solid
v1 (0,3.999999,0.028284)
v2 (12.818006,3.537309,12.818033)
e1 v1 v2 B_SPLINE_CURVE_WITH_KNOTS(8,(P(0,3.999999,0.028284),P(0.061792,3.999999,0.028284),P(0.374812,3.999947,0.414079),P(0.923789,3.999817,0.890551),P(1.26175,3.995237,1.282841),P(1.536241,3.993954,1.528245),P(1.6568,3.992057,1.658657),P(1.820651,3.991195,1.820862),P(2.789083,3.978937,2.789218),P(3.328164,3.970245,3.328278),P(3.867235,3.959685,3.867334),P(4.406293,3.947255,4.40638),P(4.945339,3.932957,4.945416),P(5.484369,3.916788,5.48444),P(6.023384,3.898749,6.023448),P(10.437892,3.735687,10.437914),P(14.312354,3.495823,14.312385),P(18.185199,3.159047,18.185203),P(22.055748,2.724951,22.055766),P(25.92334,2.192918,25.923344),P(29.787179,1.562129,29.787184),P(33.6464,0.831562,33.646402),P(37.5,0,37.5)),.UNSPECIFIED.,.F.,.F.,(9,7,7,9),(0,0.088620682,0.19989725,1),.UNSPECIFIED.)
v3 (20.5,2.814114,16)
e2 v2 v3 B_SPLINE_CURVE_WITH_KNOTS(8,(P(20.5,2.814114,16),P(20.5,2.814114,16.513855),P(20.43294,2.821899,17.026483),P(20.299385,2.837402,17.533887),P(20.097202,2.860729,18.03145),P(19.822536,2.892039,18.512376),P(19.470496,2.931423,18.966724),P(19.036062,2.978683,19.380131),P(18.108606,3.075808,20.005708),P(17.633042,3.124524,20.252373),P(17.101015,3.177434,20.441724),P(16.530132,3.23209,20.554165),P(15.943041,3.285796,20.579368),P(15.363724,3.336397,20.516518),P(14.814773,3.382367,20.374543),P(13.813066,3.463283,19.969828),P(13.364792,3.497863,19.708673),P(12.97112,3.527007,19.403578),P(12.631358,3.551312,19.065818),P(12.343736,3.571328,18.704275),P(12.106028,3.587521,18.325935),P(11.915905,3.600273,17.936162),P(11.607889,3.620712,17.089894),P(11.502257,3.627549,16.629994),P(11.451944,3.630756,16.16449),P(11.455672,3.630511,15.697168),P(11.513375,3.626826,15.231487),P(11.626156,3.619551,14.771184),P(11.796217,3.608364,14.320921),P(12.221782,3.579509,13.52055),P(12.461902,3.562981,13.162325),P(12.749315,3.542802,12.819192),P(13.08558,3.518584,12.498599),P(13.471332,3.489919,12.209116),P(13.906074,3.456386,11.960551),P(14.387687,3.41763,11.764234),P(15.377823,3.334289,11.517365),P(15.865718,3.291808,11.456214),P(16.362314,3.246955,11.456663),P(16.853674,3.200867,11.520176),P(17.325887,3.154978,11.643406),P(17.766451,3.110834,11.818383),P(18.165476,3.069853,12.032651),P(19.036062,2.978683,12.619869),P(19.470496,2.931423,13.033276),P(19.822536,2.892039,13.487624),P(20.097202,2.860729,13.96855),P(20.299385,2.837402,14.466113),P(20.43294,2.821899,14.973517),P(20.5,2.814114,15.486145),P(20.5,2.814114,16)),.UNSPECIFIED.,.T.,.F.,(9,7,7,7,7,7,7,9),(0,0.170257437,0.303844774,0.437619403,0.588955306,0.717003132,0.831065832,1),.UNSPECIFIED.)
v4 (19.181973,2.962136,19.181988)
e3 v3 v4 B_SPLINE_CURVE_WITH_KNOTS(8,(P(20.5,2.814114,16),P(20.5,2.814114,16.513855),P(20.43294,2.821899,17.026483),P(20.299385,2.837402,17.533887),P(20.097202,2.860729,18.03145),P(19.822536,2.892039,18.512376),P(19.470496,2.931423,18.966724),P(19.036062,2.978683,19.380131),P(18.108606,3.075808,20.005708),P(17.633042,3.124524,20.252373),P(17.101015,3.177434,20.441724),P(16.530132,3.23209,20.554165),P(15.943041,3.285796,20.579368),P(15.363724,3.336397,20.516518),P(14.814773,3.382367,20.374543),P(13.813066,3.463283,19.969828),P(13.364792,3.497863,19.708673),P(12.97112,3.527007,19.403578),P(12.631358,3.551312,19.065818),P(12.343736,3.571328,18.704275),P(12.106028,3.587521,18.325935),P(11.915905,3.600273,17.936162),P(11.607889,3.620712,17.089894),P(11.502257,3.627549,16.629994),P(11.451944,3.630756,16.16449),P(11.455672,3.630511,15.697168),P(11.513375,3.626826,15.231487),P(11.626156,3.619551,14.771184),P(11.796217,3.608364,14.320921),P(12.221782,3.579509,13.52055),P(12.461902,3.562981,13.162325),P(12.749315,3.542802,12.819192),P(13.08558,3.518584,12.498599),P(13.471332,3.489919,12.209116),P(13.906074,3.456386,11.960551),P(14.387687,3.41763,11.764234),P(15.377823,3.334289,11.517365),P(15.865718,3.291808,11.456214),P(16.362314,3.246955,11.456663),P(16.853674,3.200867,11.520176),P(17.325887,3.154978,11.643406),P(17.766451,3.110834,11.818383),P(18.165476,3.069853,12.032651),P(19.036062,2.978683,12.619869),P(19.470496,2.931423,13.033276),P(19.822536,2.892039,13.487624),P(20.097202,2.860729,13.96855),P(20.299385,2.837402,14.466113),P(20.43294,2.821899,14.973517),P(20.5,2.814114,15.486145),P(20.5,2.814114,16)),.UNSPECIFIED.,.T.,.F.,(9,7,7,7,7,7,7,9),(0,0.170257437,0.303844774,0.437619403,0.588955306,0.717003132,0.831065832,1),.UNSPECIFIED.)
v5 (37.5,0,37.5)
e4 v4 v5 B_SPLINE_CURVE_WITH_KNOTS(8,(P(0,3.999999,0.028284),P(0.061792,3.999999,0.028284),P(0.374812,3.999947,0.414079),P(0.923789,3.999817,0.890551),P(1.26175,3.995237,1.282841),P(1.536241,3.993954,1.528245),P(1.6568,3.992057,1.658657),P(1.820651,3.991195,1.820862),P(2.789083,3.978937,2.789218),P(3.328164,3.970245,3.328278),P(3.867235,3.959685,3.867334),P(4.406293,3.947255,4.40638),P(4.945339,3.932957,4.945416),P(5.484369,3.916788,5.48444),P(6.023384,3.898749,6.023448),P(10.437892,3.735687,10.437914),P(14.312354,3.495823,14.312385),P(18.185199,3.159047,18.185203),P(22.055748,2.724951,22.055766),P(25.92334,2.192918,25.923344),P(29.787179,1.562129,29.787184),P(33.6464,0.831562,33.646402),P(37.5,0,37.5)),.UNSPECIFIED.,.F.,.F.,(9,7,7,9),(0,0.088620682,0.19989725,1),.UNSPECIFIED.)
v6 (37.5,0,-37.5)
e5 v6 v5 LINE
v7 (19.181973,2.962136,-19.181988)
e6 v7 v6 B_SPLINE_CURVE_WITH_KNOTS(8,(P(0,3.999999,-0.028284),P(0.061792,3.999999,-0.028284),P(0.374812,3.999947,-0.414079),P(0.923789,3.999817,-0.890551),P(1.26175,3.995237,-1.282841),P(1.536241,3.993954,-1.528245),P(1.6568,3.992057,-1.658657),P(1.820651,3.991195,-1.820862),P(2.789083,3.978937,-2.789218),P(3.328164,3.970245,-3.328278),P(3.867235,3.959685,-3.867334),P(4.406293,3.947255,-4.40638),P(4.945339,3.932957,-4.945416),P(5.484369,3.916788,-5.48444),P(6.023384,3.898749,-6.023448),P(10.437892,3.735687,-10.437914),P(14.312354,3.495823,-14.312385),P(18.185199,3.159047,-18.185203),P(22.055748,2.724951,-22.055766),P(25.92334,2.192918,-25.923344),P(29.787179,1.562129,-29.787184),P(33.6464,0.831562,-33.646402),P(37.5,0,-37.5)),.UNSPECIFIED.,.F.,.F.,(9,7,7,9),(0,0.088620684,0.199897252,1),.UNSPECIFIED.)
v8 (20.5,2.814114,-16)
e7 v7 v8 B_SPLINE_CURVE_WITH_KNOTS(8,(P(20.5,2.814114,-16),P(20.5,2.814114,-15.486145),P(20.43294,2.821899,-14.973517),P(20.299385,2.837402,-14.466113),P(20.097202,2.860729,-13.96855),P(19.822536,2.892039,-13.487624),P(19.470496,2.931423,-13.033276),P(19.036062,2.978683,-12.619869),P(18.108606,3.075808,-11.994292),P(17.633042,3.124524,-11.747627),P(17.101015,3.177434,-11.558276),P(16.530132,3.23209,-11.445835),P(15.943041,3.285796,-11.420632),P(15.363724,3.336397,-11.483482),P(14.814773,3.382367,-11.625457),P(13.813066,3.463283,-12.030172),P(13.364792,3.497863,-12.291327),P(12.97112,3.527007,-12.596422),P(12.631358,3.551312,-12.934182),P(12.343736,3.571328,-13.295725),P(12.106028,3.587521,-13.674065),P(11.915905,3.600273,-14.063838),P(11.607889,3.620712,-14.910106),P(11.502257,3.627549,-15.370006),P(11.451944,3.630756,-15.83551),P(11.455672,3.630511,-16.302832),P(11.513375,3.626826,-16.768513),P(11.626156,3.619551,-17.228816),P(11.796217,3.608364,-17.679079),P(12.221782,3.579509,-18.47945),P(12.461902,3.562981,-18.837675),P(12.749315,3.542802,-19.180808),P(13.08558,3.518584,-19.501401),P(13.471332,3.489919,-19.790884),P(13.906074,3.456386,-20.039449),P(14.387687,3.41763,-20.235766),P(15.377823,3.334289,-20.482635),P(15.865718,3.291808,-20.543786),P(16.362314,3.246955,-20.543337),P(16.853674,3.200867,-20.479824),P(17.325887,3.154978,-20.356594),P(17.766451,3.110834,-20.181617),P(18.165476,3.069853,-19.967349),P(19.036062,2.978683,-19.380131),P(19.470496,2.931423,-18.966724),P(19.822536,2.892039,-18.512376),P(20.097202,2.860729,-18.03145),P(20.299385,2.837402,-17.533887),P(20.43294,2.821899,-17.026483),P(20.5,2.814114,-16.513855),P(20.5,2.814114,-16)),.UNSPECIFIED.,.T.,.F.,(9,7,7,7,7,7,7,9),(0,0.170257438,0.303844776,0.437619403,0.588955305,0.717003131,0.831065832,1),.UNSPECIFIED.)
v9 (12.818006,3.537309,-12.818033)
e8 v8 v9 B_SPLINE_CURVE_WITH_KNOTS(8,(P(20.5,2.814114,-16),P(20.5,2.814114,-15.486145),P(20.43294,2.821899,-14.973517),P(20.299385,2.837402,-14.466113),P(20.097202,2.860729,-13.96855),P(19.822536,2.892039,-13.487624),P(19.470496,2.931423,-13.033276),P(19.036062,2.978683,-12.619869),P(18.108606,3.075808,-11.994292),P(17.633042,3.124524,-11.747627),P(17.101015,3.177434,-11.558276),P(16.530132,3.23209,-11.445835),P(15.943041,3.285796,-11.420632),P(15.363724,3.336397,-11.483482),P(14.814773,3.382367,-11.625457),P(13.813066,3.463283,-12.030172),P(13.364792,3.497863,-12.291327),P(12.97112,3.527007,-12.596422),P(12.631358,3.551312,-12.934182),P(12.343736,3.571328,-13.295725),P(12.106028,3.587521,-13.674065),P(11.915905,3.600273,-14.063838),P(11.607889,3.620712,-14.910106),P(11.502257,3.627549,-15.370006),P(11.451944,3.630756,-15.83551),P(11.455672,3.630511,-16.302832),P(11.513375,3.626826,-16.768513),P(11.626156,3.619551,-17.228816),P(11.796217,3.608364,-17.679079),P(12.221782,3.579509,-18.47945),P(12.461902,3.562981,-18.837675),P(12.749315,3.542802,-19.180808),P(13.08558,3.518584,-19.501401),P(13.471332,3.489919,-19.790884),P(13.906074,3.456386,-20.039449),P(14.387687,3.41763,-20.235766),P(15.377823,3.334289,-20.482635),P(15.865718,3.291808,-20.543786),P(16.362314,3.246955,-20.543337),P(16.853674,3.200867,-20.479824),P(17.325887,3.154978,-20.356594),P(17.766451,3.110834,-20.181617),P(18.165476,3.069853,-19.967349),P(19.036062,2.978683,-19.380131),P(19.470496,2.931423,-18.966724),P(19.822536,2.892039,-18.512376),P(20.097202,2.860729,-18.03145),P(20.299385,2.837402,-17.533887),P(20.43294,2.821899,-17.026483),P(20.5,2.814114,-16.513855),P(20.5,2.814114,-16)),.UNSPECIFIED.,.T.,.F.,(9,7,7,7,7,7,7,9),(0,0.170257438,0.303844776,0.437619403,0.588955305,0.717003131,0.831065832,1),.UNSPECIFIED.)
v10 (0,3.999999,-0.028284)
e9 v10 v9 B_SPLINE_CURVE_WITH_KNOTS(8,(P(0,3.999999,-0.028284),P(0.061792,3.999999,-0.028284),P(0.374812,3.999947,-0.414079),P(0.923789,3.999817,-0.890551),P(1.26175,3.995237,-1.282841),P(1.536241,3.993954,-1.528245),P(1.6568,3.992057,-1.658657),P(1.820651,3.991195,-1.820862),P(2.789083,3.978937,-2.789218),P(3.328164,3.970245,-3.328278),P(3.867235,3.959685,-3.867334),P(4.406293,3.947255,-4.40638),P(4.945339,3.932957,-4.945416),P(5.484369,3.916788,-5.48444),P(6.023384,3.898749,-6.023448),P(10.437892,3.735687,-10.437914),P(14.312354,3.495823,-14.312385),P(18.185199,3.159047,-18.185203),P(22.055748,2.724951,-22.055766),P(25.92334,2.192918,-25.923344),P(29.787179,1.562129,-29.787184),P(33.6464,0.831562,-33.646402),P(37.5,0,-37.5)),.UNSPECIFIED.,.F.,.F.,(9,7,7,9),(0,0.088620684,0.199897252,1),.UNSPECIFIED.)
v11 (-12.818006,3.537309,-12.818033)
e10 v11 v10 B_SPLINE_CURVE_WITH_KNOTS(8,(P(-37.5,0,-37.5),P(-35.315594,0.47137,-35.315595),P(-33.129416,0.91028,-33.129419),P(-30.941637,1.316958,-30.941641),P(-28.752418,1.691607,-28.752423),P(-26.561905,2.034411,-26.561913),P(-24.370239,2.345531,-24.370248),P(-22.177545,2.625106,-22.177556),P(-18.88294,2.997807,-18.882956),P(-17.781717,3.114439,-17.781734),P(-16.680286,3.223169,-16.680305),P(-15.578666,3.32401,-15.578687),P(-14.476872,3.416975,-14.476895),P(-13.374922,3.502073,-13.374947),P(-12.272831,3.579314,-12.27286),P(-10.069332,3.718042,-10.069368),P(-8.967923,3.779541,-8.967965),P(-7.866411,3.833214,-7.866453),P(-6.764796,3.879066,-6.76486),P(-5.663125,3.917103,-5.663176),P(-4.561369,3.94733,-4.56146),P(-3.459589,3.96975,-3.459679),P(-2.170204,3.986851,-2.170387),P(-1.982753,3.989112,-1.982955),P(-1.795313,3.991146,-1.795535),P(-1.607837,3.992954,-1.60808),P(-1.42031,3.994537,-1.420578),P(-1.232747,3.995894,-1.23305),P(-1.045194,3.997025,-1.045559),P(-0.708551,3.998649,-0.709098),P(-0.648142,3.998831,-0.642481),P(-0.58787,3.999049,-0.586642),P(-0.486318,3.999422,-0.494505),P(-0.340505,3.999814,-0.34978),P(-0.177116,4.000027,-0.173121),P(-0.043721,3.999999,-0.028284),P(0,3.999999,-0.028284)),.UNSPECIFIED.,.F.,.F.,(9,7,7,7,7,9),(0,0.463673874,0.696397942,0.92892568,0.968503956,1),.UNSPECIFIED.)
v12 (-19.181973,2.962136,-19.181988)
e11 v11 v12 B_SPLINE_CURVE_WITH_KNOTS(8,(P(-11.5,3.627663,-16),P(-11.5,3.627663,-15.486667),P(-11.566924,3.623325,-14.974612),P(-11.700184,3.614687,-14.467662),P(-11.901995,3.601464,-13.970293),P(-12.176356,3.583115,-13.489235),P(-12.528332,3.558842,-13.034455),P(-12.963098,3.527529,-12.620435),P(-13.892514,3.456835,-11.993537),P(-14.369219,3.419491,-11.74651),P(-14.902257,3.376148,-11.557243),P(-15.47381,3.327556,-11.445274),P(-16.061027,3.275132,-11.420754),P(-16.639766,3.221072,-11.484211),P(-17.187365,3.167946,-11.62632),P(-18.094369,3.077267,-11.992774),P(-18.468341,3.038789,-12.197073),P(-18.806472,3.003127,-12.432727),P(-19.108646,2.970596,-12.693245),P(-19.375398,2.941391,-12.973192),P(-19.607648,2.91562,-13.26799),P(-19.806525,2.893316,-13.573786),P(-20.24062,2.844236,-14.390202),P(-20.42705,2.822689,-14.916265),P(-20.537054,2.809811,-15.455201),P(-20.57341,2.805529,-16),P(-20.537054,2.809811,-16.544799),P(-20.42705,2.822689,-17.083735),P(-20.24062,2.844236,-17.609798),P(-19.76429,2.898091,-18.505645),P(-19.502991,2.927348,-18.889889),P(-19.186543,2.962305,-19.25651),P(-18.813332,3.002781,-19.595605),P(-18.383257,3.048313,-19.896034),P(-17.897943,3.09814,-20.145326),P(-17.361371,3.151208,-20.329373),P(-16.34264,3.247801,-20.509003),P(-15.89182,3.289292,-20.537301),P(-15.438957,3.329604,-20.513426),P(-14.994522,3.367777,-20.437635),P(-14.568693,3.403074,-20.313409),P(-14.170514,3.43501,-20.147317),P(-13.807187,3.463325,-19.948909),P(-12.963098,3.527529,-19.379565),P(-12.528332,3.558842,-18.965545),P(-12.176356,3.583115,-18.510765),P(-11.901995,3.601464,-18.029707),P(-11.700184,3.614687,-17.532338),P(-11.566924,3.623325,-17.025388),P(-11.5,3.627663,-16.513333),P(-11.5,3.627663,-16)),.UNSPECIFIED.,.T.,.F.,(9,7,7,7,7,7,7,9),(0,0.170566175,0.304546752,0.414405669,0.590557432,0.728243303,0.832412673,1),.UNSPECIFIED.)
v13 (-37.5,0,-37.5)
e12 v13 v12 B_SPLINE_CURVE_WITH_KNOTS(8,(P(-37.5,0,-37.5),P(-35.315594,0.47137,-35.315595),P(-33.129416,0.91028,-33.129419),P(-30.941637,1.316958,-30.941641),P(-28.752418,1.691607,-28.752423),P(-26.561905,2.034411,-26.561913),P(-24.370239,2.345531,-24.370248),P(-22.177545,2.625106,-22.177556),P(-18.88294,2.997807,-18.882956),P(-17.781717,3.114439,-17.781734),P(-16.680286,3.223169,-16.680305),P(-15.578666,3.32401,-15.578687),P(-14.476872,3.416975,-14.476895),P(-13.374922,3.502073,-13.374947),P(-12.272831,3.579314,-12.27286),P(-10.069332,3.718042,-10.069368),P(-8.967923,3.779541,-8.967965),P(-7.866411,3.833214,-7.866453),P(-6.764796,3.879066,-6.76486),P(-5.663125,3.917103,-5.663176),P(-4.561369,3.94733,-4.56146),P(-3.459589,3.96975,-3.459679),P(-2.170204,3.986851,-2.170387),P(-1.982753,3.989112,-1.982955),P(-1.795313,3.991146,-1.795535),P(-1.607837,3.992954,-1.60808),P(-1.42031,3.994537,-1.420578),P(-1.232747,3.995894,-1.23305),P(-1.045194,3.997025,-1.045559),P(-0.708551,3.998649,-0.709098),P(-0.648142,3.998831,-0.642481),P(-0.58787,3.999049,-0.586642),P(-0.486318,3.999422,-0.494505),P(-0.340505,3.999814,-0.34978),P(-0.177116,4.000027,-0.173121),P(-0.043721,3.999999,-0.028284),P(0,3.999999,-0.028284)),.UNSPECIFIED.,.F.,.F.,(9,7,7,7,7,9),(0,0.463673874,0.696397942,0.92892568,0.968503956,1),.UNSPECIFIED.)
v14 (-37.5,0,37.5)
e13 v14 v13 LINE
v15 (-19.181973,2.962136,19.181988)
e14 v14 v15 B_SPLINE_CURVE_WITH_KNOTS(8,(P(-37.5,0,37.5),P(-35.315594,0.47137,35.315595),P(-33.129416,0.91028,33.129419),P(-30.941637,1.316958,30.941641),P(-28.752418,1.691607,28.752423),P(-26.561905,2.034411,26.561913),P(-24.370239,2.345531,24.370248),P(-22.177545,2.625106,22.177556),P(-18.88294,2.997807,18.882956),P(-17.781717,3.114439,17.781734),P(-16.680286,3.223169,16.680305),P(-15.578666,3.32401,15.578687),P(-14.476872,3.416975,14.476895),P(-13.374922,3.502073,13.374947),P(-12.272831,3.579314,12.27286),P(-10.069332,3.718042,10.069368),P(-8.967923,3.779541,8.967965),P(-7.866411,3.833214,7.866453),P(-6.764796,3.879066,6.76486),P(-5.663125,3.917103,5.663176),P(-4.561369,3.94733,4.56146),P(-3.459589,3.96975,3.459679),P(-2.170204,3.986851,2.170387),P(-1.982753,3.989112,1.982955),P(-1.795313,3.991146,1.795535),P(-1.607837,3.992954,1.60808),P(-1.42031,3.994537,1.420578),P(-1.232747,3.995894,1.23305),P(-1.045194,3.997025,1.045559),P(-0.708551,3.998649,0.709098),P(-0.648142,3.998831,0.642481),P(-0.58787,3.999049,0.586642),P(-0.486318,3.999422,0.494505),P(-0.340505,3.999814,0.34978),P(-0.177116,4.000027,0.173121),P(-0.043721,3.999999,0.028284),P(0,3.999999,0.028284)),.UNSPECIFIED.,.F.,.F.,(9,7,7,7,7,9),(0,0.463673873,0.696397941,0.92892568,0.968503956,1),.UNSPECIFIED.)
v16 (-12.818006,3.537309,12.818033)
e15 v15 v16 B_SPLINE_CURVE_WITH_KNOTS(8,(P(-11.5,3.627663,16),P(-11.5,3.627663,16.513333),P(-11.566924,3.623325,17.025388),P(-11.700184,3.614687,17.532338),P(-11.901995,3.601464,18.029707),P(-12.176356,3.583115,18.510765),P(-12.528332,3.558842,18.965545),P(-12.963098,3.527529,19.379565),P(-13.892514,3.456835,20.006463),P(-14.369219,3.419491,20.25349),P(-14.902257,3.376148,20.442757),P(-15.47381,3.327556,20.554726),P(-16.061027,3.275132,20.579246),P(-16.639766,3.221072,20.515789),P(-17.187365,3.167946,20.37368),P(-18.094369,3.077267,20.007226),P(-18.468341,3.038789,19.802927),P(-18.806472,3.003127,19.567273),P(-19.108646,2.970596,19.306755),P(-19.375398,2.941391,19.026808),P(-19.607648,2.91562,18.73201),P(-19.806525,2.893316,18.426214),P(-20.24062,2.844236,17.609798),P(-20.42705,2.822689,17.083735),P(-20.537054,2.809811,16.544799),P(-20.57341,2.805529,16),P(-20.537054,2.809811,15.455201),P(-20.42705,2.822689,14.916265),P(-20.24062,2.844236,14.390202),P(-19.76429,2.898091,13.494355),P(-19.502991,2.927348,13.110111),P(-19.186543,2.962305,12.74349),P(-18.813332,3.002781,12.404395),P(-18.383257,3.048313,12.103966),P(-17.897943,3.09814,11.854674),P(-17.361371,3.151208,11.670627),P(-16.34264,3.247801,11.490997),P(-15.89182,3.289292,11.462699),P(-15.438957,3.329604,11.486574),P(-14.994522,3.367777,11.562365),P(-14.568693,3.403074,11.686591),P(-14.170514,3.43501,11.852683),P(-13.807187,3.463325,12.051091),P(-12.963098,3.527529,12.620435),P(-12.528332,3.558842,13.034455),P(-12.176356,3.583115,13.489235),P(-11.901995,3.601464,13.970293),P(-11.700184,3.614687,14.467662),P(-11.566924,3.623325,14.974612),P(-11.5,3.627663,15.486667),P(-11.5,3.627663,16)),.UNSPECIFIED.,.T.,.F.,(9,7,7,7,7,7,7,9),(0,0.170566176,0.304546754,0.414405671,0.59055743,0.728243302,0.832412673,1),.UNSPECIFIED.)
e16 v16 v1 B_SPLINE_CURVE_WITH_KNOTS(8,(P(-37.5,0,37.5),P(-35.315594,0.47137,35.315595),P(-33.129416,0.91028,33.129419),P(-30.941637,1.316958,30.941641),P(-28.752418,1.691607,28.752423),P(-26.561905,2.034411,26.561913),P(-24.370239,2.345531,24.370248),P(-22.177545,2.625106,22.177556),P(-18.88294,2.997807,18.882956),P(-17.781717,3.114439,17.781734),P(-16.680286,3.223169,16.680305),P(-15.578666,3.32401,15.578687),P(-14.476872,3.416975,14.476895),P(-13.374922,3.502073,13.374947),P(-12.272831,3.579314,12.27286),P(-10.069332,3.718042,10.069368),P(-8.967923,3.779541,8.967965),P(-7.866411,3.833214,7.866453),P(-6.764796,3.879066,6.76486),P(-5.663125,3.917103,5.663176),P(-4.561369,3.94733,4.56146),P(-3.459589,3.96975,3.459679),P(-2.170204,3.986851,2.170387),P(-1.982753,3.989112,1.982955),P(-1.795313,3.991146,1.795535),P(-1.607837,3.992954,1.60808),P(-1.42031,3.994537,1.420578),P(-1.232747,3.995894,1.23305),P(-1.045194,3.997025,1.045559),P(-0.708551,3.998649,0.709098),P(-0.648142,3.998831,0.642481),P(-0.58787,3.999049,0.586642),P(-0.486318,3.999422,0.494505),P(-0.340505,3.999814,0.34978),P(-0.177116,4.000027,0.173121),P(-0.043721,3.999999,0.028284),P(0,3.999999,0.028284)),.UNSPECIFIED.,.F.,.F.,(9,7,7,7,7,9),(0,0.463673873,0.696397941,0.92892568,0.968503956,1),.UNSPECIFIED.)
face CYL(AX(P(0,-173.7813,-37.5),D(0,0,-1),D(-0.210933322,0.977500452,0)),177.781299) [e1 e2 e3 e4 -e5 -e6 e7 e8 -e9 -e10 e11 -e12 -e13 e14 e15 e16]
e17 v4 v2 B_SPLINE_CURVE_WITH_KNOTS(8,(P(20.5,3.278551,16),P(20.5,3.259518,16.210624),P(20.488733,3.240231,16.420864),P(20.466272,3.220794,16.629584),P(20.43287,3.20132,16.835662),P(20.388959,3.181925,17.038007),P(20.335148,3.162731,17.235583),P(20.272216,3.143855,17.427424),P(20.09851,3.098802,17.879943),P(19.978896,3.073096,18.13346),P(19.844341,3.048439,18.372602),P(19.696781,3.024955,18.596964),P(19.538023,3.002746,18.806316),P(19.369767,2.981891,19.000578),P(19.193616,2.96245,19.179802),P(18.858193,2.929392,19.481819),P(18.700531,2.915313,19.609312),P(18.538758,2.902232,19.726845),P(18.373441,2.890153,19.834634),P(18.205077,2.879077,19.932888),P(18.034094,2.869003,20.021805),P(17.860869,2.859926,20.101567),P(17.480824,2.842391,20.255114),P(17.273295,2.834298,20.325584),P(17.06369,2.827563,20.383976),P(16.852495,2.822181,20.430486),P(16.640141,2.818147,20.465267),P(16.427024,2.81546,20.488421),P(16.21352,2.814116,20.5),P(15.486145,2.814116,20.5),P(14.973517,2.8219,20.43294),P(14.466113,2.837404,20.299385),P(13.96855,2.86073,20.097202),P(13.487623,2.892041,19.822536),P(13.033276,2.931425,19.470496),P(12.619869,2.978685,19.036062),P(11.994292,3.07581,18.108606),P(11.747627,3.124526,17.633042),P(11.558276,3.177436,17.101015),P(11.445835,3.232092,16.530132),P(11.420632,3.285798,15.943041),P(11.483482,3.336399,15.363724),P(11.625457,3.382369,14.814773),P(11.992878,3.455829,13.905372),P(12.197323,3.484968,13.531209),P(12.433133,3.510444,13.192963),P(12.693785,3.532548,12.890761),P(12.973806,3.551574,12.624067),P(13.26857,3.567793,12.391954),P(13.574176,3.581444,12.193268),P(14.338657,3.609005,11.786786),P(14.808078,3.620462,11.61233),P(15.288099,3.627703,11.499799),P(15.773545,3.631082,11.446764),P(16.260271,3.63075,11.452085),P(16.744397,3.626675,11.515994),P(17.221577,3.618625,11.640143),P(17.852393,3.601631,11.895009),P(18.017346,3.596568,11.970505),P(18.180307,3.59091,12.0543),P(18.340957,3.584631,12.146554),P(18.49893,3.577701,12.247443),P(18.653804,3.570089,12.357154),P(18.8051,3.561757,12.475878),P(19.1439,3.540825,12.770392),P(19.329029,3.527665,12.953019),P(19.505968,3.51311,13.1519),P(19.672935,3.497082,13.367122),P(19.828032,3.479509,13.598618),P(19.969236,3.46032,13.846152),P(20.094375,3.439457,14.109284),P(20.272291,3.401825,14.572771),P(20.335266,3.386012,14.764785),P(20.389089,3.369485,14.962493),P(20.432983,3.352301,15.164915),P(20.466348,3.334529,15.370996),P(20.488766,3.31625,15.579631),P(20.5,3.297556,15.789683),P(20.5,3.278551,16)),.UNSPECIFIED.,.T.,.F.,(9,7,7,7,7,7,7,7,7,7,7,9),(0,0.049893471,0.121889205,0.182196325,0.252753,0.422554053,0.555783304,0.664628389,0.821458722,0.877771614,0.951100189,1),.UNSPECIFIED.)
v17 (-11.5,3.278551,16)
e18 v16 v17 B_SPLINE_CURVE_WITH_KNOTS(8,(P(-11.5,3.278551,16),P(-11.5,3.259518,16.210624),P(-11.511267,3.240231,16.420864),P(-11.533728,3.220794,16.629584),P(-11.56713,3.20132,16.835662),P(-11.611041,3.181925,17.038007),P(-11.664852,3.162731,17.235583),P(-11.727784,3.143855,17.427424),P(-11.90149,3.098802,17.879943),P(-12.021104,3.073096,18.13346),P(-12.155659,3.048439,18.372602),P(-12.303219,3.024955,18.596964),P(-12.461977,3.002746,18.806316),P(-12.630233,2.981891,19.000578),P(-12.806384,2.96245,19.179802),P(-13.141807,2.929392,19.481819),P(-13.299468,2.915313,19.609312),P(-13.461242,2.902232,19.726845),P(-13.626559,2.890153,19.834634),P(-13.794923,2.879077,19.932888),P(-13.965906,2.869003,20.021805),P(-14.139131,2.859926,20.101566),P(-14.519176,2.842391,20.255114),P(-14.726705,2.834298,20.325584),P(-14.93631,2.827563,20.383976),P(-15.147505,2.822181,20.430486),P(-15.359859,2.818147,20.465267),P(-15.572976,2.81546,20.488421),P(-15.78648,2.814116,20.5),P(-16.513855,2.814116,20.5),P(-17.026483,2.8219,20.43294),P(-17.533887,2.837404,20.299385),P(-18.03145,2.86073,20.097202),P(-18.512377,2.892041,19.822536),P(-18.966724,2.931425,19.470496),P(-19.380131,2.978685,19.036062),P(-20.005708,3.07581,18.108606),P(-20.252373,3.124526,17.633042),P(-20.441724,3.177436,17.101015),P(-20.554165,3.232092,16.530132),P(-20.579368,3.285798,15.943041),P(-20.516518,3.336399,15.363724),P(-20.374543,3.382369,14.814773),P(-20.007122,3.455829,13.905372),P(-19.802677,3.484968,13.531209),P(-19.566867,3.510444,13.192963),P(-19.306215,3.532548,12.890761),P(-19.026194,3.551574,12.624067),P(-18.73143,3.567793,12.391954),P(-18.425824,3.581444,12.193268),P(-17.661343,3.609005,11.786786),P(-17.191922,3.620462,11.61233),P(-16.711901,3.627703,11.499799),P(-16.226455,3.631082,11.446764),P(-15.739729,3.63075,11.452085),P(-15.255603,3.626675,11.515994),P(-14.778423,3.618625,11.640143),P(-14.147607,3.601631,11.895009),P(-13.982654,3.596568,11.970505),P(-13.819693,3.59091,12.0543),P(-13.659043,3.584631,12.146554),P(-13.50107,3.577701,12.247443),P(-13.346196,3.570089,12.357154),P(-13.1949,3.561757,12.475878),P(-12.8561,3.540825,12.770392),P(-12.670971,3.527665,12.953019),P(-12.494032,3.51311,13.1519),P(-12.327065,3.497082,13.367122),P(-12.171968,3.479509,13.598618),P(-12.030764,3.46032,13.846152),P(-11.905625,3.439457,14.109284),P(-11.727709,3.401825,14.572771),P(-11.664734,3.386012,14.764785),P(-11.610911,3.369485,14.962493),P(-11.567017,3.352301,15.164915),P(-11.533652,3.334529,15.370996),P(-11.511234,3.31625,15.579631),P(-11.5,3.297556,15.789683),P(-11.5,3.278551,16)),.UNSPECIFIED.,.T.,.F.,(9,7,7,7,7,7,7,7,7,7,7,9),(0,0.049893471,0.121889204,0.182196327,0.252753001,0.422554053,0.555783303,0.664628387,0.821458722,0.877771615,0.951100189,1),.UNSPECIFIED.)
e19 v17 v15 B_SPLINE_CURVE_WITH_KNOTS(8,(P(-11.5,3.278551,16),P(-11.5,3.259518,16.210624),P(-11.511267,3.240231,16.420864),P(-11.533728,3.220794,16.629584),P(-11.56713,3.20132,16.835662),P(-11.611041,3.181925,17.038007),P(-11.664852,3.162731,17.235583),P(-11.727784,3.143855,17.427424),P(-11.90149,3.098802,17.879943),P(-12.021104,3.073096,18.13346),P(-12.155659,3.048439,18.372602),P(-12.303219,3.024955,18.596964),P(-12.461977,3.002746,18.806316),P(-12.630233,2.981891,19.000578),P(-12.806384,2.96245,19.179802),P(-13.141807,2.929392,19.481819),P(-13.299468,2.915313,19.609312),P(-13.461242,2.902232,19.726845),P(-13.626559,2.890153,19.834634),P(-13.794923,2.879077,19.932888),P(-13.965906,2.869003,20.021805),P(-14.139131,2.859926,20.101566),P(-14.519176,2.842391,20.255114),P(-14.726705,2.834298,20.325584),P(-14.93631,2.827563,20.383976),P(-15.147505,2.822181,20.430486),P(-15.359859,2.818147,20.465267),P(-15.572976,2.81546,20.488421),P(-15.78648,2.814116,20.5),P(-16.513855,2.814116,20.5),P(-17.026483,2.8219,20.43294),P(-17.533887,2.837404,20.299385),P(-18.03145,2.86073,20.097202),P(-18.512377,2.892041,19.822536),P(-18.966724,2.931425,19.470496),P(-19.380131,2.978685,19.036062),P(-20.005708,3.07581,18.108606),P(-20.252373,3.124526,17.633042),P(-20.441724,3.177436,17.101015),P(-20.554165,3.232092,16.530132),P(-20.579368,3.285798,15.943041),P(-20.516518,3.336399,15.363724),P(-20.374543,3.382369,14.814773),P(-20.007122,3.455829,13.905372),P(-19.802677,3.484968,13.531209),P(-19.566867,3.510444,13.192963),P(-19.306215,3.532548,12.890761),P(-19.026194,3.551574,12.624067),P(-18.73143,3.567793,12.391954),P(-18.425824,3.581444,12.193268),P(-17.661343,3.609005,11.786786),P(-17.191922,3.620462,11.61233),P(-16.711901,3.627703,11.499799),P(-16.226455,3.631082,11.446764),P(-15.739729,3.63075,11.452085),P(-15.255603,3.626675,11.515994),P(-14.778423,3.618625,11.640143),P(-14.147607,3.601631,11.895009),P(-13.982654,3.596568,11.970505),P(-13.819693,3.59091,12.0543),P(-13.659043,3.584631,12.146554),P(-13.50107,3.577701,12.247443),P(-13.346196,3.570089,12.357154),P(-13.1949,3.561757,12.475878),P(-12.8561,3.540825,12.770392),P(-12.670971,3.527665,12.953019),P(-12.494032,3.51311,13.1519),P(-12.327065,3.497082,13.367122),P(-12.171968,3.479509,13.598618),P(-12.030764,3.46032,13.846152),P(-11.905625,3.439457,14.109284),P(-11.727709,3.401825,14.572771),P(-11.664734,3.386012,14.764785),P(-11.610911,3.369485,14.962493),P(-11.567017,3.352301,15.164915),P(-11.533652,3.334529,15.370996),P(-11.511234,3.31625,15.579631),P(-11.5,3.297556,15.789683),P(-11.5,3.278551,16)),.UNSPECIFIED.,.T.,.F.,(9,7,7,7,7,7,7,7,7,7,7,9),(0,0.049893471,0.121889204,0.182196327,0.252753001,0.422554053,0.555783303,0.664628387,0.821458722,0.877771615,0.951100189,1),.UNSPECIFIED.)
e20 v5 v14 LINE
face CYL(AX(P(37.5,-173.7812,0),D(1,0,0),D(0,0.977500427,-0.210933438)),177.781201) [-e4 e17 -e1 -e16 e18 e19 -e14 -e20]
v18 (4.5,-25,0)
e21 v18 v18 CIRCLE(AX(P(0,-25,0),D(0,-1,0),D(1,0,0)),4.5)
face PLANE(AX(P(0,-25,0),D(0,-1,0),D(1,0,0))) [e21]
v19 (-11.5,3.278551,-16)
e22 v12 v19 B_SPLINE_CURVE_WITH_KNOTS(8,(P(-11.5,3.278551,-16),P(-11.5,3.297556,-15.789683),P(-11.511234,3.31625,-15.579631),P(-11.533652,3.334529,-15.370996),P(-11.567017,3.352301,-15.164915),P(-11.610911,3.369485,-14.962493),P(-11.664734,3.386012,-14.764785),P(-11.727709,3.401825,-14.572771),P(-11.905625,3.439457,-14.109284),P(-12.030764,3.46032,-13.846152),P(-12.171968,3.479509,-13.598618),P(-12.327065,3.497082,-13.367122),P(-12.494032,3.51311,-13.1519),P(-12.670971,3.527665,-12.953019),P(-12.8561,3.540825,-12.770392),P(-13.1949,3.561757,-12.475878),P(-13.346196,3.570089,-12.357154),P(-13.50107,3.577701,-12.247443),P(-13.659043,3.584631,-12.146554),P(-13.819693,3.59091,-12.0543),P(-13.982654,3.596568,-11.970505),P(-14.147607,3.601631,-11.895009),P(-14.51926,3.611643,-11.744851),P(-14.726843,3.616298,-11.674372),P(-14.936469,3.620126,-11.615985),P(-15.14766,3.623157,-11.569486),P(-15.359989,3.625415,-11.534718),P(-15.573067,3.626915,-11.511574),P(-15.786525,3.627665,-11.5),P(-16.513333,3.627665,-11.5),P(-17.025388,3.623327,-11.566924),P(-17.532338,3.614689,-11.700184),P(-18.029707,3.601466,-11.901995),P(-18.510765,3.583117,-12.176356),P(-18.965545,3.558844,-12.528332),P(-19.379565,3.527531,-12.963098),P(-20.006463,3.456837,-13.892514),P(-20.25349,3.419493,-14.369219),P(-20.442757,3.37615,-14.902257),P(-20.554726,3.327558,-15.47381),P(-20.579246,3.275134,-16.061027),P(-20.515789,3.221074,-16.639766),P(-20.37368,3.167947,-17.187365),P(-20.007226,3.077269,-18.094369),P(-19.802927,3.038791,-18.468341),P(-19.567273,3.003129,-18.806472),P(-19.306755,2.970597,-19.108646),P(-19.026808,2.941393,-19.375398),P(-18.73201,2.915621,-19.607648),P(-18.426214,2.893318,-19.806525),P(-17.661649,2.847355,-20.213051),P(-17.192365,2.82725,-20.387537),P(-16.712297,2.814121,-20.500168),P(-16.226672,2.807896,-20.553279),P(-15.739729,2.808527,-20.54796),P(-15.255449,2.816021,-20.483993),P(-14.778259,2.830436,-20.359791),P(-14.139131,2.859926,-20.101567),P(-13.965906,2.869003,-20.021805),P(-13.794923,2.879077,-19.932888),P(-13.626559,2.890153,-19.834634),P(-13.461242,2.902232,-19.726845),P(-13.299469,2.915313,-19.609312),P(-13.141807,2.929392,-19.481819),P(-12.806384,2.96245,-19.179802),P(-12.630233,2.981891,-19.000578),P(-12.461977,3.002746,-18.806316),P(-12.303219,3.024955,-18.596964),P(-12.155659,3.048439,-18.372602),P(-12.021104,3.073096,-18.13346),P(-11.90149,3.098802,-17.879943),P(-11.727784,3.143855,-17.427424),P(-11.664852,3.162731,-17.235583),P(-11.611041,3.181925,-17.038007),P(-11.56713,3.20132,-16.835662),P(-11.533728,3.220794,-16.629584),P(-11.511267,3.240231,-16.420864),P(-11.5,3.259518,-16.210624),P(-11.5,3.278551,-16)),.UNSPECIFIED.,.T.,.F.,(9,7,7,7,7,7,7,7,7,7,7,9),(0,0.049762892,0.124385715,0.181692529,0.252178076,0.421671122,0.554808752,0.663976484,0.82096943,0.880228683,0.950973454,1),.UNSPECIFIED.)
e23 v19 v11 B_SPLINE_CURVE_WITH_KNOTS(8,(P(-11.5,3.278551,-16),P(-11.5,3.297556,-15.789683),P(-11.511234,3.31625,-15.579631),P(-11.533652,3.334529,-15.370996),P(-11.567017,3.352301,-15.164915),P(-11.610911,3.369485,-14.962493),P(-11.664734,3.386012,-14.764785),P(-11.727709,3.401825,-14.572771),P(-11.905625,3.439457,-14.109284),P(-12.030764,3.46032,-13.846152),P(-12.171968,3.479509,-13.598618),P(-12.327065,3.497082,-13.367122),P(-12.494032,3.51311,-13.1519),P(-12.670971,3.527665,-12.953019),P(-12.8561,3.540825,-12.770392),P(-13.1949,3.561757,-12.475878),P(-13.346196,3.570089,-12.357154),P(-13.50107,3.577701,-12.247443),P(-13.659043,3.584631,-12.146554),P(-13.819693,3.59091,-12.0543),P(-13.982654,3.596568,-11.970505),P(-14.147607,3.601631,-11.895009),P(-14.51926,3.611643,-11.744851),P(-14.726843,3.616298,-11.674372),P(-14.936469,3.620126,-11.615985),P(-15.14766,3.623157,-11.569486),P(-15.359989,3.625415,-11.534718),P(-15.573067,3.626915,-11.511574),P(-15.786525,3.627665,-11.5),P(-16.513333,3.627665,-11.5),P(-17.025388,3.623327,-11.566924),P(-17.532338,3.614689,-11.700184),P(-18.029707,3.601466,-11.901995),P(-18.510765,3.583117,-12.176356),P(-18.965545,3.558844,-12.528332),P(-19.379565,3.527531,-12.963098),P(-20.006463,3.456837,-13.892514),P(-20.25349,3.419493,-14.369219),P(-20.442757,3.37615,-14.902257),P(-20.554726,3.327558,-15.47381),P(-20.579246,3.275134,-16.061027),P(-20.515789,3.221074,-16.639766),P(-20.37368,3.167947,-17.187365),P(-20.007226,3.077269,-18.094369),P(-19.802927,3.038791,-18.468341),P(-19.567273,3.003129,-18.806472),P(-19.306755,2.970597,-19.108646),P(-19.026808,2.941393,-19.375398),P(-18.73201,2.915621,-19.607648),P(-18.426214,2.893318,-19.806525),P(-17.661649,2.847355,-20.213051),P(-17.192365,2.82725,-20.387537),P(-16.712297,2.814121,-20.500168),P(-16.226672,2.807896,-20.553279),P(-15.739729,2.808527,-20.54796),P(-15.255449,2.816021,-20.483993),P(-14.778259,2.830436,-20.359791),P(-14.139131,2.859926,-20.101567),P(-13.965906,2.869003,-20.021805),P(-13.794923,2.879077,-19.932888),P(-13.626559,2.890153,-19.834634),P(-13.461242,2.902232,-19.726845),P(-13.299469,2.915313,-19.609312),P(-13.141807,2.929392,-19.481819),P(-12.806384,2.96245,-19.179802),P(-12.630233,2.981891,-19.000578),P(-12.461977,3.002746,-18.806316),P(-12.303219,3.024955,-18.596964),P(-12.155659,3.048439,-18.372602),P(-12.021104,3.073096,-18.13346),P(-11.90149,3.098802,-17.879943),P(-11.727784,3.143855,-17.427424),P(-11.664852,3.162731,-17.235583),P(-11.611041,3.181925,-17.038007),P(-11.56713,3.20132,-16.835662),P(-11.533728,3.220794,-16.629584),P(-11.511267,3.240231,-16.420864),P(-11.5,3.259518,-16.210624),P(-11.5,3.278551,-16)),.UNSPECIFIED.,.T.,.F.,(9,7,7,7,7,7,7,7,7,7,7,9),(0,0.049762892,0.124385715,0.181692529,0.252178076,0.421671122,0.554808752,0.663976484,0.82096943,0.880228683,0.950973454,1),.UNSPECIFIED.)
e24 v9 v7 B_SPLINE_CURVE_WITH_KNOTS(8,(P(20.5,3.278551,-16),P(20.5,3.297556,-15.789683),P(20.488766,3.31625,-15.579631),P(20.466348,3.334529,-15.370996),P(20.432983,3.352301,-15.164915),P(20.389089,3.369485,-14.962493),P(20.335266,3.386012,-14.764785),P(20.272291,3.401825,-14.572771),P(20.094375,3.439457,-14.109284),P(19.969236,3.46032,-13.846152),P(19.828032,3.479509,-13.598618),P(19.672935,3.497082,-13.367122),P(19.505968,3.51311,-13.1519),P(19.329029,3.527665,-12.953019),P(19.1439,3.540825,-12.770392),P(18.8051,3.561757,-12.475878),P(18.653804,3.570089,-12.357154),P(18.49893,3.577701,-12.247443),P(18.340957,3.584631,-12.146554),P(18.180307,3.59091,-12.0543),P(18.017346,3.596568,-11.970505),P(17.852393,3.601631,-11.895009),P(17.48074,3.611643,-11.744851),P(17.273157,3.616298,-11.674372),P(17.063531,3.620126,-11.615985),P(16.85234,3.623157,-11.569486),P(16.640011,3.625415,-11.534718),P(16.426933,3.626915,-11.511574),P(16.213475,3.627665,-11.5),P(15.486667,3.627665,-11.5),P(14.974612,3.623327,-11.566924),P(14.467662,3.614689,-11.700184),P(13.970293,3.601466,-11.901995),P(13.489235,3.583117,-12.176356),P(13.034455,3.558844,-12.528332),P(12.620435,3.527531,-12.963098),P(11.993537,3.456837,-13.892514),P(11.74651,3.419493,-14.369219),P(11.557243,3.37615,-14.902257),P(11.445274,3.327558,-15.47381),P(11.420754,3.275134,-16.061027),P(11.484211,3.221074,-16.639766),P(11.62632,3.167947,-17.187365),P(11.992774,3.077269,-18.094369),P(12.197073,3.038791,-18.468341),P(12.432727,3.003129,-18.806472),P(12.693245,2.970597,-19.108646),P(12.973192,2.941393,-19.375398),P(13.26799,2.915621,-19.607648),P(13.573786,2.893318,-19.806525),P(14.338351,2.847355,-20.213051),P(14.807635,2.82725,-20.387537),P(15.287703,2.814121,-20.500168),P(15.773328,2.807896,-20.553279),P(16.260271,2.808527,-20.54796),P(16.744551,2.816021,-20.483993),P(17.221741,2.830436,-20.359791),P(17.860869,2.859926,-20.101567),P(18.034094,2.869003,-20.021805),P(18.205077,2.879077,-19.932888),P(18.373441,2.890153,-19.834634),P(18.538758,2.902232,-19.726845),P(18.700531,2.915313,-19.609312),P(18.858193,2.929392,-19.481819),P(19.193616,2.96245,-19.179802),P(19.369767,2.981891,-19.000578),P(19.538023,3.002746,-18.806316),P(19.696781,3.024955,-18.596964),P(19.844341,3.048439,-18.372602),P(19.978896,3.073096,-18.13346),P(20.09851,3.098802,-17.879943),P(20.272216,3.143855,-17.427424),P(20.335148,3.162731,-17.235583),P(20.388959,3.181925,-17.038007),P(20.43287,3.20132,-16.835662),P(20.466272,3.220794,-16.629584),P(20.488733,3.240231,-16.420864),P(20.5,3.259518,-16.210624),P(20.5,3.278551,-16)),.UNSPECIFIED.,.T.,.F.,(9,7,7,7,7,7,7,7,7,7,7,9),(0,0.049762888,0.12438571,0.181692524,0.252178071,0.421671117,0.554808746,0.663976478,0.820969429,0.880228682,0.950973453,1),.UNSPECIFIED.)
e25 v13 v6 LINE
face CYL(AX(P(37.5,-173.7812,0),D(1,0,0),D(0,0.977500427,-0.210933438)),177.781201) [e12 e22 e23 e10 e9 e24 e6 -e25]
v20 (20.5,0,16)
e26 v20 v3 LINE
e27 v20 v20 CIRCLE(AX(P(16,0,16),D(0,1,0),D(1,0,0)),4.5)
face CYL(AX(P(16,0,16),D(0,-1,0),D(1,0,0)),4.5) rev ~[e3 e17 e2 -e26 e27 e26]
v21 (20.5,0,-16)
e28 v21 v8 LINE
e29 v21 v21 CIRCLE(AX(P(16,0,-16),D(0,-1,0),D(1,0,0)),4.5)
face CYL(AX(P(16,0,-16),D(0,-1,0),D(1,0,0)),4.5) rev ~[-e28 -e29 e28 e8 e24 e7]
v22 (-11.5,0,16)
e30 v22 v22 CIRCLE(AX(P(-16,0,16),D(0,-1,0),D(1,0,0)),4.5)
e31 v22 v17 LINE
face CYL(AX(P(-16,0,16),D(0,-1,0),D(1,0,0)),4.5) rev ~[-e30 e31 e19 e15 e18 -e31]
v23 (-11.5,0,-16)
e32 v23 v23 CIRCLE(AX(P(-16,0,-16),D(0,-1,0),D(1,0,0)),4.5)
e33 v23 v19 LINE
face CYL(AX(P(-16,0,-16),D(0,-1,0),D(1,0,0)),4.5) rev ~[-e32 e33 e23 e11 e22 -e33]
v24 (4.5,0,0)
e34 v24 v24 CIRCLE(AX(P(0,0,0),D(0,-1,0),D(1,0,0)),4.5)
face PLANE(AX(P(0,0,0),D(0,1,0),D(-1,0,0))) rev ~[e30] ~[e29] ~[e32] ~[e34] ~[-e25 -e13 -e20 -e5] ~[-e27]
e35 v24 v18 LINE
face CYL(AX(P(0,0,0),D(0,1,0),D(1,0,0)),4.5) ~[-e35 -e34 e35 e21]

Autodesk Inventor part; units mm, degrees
ref_plane "YZ Plane" through (0, 0, 0) normal (1, 0, 0) x (0, 1, 0)
ref_plane "XZ Plane" through (0, 0, 0) normal (0, 1, 0) x (-1, 0, 0)
ref_plane "XY Plane" through (0, 0, 0) normal (0, 0, 1) x (1, 0, 0)
sketch "Sketch1" plane through (0, 0, 0) normal (0, 1, 0) x (-1, 0, 0)
  line L0 (37.5, -37.5) -> (-37.5, -37.5)
  line L1 (-37.5, -37.5) -> (-37.5, 37.5)
  line L2 (-37.5, 37.5) -> (37.5, 37.5)
  line L3 (37.5, 37.5) -> (37.5, -37.5)
  line L4 (37.5, -37.5) -> (-37.5, 37.5) construction
  line L5 (-37.5, -37.5) -> (37.5, 37.5) construction
  point P0 (0, 0)
  dimension "d0" = 75
  dimension "d1" = 75
sketch "Sketch2" plane through (0, 0, 0) normal (0, 1, 0) x (-1, 0, 0)
  line L0 (-25, -25) -> (25, -25)
  line L1 (25, -25) -> (25, 25)
  line L2 (25, 25) -> (-25, 25)
  line L3 (-25, 25) -> (-25, -25)
  line L4 (-25, -25) -> (25, 25) construction
  line L5 (25, -25) -> (-25, 25) construction
  point P0 (0, 0)
  dimension "d2" = 50
  dimension "d3" = 50
extrude "Extrusion1" add sketch "Sketch1" along normal blind 4
extrude "Extrusion2" [suppressed]
sketch "Sketch3" plane through (37.5, 0, 37.5) normal (1, 0, 0) x (0, 0, -1)
  line L0 (75, 4) -> (0, 4) projected
  line L1 (0, 0) -> (75, 0) projected
  line L2 (0, 0) -> (75, 0)
  arc A0 (75, 0) -> (0, 0) centre (37.5, -173.7812) ccw
  point P0 (37.5, 4)
extrude "Extrusion3" cut sketch "Sketch3" against normal through all keep common part
sketch "Sketch4" plane through (37.5, 0, -37.5) normal (0, 0, -1) x (-1, 0, 0)
  line L0 (75, 0) -> (75, 4) projected
  line L1 (0, 0) -> (75, 0)
  line L2 (0, 0) -> (0, 4) projected
  line L3 (75, 0) -> (0, 0) projected
  arc A0 (75, 0) -> (0, 0) centre (37.5, -173.7813) ccw
  point P0 (37.5, 0)
extrude "Extrusion4" cut sketch "Sketch4" against normal through all keep common part
sketch "Sketch5" plane through (0, 0, 0) normal (0, -1, 0) x (1, 0, 0)
  circle A0 centre (0, 0) radius 4.5
  dimension "d14" = 9
extrude "Extrusion5" add sketch "Sketch5" along normal blind 25
sketch "Sketch6" plane through (0, 0, 0) normal (0, -1, 0) x (1, 0, 0)
  circle A0 centre (-16, -16) radius 4.5
  circle A1 centre (16, 16) radius 4.5
  line L0 (0, 0) -> (37.5, 37.5) projected
  circle A2 centre (16, -16) radius 4.5
  circle A3 centre (-16, 16) radius 4.5
  point P0 (0, 0)
  dimension "d17" = 9
  dimension "d18" = 9
  dimension "d19" = 16
  dimension "d20" = 16
  dimension "d21" = 16
  dimension "d22" = 16
  dimension "d25" = 9
  dimension "d26" = 9
extrude "Extrusion6" cut sketch "Sketch6" against normal through all
properties part number "thumper-bumper-trigger"
